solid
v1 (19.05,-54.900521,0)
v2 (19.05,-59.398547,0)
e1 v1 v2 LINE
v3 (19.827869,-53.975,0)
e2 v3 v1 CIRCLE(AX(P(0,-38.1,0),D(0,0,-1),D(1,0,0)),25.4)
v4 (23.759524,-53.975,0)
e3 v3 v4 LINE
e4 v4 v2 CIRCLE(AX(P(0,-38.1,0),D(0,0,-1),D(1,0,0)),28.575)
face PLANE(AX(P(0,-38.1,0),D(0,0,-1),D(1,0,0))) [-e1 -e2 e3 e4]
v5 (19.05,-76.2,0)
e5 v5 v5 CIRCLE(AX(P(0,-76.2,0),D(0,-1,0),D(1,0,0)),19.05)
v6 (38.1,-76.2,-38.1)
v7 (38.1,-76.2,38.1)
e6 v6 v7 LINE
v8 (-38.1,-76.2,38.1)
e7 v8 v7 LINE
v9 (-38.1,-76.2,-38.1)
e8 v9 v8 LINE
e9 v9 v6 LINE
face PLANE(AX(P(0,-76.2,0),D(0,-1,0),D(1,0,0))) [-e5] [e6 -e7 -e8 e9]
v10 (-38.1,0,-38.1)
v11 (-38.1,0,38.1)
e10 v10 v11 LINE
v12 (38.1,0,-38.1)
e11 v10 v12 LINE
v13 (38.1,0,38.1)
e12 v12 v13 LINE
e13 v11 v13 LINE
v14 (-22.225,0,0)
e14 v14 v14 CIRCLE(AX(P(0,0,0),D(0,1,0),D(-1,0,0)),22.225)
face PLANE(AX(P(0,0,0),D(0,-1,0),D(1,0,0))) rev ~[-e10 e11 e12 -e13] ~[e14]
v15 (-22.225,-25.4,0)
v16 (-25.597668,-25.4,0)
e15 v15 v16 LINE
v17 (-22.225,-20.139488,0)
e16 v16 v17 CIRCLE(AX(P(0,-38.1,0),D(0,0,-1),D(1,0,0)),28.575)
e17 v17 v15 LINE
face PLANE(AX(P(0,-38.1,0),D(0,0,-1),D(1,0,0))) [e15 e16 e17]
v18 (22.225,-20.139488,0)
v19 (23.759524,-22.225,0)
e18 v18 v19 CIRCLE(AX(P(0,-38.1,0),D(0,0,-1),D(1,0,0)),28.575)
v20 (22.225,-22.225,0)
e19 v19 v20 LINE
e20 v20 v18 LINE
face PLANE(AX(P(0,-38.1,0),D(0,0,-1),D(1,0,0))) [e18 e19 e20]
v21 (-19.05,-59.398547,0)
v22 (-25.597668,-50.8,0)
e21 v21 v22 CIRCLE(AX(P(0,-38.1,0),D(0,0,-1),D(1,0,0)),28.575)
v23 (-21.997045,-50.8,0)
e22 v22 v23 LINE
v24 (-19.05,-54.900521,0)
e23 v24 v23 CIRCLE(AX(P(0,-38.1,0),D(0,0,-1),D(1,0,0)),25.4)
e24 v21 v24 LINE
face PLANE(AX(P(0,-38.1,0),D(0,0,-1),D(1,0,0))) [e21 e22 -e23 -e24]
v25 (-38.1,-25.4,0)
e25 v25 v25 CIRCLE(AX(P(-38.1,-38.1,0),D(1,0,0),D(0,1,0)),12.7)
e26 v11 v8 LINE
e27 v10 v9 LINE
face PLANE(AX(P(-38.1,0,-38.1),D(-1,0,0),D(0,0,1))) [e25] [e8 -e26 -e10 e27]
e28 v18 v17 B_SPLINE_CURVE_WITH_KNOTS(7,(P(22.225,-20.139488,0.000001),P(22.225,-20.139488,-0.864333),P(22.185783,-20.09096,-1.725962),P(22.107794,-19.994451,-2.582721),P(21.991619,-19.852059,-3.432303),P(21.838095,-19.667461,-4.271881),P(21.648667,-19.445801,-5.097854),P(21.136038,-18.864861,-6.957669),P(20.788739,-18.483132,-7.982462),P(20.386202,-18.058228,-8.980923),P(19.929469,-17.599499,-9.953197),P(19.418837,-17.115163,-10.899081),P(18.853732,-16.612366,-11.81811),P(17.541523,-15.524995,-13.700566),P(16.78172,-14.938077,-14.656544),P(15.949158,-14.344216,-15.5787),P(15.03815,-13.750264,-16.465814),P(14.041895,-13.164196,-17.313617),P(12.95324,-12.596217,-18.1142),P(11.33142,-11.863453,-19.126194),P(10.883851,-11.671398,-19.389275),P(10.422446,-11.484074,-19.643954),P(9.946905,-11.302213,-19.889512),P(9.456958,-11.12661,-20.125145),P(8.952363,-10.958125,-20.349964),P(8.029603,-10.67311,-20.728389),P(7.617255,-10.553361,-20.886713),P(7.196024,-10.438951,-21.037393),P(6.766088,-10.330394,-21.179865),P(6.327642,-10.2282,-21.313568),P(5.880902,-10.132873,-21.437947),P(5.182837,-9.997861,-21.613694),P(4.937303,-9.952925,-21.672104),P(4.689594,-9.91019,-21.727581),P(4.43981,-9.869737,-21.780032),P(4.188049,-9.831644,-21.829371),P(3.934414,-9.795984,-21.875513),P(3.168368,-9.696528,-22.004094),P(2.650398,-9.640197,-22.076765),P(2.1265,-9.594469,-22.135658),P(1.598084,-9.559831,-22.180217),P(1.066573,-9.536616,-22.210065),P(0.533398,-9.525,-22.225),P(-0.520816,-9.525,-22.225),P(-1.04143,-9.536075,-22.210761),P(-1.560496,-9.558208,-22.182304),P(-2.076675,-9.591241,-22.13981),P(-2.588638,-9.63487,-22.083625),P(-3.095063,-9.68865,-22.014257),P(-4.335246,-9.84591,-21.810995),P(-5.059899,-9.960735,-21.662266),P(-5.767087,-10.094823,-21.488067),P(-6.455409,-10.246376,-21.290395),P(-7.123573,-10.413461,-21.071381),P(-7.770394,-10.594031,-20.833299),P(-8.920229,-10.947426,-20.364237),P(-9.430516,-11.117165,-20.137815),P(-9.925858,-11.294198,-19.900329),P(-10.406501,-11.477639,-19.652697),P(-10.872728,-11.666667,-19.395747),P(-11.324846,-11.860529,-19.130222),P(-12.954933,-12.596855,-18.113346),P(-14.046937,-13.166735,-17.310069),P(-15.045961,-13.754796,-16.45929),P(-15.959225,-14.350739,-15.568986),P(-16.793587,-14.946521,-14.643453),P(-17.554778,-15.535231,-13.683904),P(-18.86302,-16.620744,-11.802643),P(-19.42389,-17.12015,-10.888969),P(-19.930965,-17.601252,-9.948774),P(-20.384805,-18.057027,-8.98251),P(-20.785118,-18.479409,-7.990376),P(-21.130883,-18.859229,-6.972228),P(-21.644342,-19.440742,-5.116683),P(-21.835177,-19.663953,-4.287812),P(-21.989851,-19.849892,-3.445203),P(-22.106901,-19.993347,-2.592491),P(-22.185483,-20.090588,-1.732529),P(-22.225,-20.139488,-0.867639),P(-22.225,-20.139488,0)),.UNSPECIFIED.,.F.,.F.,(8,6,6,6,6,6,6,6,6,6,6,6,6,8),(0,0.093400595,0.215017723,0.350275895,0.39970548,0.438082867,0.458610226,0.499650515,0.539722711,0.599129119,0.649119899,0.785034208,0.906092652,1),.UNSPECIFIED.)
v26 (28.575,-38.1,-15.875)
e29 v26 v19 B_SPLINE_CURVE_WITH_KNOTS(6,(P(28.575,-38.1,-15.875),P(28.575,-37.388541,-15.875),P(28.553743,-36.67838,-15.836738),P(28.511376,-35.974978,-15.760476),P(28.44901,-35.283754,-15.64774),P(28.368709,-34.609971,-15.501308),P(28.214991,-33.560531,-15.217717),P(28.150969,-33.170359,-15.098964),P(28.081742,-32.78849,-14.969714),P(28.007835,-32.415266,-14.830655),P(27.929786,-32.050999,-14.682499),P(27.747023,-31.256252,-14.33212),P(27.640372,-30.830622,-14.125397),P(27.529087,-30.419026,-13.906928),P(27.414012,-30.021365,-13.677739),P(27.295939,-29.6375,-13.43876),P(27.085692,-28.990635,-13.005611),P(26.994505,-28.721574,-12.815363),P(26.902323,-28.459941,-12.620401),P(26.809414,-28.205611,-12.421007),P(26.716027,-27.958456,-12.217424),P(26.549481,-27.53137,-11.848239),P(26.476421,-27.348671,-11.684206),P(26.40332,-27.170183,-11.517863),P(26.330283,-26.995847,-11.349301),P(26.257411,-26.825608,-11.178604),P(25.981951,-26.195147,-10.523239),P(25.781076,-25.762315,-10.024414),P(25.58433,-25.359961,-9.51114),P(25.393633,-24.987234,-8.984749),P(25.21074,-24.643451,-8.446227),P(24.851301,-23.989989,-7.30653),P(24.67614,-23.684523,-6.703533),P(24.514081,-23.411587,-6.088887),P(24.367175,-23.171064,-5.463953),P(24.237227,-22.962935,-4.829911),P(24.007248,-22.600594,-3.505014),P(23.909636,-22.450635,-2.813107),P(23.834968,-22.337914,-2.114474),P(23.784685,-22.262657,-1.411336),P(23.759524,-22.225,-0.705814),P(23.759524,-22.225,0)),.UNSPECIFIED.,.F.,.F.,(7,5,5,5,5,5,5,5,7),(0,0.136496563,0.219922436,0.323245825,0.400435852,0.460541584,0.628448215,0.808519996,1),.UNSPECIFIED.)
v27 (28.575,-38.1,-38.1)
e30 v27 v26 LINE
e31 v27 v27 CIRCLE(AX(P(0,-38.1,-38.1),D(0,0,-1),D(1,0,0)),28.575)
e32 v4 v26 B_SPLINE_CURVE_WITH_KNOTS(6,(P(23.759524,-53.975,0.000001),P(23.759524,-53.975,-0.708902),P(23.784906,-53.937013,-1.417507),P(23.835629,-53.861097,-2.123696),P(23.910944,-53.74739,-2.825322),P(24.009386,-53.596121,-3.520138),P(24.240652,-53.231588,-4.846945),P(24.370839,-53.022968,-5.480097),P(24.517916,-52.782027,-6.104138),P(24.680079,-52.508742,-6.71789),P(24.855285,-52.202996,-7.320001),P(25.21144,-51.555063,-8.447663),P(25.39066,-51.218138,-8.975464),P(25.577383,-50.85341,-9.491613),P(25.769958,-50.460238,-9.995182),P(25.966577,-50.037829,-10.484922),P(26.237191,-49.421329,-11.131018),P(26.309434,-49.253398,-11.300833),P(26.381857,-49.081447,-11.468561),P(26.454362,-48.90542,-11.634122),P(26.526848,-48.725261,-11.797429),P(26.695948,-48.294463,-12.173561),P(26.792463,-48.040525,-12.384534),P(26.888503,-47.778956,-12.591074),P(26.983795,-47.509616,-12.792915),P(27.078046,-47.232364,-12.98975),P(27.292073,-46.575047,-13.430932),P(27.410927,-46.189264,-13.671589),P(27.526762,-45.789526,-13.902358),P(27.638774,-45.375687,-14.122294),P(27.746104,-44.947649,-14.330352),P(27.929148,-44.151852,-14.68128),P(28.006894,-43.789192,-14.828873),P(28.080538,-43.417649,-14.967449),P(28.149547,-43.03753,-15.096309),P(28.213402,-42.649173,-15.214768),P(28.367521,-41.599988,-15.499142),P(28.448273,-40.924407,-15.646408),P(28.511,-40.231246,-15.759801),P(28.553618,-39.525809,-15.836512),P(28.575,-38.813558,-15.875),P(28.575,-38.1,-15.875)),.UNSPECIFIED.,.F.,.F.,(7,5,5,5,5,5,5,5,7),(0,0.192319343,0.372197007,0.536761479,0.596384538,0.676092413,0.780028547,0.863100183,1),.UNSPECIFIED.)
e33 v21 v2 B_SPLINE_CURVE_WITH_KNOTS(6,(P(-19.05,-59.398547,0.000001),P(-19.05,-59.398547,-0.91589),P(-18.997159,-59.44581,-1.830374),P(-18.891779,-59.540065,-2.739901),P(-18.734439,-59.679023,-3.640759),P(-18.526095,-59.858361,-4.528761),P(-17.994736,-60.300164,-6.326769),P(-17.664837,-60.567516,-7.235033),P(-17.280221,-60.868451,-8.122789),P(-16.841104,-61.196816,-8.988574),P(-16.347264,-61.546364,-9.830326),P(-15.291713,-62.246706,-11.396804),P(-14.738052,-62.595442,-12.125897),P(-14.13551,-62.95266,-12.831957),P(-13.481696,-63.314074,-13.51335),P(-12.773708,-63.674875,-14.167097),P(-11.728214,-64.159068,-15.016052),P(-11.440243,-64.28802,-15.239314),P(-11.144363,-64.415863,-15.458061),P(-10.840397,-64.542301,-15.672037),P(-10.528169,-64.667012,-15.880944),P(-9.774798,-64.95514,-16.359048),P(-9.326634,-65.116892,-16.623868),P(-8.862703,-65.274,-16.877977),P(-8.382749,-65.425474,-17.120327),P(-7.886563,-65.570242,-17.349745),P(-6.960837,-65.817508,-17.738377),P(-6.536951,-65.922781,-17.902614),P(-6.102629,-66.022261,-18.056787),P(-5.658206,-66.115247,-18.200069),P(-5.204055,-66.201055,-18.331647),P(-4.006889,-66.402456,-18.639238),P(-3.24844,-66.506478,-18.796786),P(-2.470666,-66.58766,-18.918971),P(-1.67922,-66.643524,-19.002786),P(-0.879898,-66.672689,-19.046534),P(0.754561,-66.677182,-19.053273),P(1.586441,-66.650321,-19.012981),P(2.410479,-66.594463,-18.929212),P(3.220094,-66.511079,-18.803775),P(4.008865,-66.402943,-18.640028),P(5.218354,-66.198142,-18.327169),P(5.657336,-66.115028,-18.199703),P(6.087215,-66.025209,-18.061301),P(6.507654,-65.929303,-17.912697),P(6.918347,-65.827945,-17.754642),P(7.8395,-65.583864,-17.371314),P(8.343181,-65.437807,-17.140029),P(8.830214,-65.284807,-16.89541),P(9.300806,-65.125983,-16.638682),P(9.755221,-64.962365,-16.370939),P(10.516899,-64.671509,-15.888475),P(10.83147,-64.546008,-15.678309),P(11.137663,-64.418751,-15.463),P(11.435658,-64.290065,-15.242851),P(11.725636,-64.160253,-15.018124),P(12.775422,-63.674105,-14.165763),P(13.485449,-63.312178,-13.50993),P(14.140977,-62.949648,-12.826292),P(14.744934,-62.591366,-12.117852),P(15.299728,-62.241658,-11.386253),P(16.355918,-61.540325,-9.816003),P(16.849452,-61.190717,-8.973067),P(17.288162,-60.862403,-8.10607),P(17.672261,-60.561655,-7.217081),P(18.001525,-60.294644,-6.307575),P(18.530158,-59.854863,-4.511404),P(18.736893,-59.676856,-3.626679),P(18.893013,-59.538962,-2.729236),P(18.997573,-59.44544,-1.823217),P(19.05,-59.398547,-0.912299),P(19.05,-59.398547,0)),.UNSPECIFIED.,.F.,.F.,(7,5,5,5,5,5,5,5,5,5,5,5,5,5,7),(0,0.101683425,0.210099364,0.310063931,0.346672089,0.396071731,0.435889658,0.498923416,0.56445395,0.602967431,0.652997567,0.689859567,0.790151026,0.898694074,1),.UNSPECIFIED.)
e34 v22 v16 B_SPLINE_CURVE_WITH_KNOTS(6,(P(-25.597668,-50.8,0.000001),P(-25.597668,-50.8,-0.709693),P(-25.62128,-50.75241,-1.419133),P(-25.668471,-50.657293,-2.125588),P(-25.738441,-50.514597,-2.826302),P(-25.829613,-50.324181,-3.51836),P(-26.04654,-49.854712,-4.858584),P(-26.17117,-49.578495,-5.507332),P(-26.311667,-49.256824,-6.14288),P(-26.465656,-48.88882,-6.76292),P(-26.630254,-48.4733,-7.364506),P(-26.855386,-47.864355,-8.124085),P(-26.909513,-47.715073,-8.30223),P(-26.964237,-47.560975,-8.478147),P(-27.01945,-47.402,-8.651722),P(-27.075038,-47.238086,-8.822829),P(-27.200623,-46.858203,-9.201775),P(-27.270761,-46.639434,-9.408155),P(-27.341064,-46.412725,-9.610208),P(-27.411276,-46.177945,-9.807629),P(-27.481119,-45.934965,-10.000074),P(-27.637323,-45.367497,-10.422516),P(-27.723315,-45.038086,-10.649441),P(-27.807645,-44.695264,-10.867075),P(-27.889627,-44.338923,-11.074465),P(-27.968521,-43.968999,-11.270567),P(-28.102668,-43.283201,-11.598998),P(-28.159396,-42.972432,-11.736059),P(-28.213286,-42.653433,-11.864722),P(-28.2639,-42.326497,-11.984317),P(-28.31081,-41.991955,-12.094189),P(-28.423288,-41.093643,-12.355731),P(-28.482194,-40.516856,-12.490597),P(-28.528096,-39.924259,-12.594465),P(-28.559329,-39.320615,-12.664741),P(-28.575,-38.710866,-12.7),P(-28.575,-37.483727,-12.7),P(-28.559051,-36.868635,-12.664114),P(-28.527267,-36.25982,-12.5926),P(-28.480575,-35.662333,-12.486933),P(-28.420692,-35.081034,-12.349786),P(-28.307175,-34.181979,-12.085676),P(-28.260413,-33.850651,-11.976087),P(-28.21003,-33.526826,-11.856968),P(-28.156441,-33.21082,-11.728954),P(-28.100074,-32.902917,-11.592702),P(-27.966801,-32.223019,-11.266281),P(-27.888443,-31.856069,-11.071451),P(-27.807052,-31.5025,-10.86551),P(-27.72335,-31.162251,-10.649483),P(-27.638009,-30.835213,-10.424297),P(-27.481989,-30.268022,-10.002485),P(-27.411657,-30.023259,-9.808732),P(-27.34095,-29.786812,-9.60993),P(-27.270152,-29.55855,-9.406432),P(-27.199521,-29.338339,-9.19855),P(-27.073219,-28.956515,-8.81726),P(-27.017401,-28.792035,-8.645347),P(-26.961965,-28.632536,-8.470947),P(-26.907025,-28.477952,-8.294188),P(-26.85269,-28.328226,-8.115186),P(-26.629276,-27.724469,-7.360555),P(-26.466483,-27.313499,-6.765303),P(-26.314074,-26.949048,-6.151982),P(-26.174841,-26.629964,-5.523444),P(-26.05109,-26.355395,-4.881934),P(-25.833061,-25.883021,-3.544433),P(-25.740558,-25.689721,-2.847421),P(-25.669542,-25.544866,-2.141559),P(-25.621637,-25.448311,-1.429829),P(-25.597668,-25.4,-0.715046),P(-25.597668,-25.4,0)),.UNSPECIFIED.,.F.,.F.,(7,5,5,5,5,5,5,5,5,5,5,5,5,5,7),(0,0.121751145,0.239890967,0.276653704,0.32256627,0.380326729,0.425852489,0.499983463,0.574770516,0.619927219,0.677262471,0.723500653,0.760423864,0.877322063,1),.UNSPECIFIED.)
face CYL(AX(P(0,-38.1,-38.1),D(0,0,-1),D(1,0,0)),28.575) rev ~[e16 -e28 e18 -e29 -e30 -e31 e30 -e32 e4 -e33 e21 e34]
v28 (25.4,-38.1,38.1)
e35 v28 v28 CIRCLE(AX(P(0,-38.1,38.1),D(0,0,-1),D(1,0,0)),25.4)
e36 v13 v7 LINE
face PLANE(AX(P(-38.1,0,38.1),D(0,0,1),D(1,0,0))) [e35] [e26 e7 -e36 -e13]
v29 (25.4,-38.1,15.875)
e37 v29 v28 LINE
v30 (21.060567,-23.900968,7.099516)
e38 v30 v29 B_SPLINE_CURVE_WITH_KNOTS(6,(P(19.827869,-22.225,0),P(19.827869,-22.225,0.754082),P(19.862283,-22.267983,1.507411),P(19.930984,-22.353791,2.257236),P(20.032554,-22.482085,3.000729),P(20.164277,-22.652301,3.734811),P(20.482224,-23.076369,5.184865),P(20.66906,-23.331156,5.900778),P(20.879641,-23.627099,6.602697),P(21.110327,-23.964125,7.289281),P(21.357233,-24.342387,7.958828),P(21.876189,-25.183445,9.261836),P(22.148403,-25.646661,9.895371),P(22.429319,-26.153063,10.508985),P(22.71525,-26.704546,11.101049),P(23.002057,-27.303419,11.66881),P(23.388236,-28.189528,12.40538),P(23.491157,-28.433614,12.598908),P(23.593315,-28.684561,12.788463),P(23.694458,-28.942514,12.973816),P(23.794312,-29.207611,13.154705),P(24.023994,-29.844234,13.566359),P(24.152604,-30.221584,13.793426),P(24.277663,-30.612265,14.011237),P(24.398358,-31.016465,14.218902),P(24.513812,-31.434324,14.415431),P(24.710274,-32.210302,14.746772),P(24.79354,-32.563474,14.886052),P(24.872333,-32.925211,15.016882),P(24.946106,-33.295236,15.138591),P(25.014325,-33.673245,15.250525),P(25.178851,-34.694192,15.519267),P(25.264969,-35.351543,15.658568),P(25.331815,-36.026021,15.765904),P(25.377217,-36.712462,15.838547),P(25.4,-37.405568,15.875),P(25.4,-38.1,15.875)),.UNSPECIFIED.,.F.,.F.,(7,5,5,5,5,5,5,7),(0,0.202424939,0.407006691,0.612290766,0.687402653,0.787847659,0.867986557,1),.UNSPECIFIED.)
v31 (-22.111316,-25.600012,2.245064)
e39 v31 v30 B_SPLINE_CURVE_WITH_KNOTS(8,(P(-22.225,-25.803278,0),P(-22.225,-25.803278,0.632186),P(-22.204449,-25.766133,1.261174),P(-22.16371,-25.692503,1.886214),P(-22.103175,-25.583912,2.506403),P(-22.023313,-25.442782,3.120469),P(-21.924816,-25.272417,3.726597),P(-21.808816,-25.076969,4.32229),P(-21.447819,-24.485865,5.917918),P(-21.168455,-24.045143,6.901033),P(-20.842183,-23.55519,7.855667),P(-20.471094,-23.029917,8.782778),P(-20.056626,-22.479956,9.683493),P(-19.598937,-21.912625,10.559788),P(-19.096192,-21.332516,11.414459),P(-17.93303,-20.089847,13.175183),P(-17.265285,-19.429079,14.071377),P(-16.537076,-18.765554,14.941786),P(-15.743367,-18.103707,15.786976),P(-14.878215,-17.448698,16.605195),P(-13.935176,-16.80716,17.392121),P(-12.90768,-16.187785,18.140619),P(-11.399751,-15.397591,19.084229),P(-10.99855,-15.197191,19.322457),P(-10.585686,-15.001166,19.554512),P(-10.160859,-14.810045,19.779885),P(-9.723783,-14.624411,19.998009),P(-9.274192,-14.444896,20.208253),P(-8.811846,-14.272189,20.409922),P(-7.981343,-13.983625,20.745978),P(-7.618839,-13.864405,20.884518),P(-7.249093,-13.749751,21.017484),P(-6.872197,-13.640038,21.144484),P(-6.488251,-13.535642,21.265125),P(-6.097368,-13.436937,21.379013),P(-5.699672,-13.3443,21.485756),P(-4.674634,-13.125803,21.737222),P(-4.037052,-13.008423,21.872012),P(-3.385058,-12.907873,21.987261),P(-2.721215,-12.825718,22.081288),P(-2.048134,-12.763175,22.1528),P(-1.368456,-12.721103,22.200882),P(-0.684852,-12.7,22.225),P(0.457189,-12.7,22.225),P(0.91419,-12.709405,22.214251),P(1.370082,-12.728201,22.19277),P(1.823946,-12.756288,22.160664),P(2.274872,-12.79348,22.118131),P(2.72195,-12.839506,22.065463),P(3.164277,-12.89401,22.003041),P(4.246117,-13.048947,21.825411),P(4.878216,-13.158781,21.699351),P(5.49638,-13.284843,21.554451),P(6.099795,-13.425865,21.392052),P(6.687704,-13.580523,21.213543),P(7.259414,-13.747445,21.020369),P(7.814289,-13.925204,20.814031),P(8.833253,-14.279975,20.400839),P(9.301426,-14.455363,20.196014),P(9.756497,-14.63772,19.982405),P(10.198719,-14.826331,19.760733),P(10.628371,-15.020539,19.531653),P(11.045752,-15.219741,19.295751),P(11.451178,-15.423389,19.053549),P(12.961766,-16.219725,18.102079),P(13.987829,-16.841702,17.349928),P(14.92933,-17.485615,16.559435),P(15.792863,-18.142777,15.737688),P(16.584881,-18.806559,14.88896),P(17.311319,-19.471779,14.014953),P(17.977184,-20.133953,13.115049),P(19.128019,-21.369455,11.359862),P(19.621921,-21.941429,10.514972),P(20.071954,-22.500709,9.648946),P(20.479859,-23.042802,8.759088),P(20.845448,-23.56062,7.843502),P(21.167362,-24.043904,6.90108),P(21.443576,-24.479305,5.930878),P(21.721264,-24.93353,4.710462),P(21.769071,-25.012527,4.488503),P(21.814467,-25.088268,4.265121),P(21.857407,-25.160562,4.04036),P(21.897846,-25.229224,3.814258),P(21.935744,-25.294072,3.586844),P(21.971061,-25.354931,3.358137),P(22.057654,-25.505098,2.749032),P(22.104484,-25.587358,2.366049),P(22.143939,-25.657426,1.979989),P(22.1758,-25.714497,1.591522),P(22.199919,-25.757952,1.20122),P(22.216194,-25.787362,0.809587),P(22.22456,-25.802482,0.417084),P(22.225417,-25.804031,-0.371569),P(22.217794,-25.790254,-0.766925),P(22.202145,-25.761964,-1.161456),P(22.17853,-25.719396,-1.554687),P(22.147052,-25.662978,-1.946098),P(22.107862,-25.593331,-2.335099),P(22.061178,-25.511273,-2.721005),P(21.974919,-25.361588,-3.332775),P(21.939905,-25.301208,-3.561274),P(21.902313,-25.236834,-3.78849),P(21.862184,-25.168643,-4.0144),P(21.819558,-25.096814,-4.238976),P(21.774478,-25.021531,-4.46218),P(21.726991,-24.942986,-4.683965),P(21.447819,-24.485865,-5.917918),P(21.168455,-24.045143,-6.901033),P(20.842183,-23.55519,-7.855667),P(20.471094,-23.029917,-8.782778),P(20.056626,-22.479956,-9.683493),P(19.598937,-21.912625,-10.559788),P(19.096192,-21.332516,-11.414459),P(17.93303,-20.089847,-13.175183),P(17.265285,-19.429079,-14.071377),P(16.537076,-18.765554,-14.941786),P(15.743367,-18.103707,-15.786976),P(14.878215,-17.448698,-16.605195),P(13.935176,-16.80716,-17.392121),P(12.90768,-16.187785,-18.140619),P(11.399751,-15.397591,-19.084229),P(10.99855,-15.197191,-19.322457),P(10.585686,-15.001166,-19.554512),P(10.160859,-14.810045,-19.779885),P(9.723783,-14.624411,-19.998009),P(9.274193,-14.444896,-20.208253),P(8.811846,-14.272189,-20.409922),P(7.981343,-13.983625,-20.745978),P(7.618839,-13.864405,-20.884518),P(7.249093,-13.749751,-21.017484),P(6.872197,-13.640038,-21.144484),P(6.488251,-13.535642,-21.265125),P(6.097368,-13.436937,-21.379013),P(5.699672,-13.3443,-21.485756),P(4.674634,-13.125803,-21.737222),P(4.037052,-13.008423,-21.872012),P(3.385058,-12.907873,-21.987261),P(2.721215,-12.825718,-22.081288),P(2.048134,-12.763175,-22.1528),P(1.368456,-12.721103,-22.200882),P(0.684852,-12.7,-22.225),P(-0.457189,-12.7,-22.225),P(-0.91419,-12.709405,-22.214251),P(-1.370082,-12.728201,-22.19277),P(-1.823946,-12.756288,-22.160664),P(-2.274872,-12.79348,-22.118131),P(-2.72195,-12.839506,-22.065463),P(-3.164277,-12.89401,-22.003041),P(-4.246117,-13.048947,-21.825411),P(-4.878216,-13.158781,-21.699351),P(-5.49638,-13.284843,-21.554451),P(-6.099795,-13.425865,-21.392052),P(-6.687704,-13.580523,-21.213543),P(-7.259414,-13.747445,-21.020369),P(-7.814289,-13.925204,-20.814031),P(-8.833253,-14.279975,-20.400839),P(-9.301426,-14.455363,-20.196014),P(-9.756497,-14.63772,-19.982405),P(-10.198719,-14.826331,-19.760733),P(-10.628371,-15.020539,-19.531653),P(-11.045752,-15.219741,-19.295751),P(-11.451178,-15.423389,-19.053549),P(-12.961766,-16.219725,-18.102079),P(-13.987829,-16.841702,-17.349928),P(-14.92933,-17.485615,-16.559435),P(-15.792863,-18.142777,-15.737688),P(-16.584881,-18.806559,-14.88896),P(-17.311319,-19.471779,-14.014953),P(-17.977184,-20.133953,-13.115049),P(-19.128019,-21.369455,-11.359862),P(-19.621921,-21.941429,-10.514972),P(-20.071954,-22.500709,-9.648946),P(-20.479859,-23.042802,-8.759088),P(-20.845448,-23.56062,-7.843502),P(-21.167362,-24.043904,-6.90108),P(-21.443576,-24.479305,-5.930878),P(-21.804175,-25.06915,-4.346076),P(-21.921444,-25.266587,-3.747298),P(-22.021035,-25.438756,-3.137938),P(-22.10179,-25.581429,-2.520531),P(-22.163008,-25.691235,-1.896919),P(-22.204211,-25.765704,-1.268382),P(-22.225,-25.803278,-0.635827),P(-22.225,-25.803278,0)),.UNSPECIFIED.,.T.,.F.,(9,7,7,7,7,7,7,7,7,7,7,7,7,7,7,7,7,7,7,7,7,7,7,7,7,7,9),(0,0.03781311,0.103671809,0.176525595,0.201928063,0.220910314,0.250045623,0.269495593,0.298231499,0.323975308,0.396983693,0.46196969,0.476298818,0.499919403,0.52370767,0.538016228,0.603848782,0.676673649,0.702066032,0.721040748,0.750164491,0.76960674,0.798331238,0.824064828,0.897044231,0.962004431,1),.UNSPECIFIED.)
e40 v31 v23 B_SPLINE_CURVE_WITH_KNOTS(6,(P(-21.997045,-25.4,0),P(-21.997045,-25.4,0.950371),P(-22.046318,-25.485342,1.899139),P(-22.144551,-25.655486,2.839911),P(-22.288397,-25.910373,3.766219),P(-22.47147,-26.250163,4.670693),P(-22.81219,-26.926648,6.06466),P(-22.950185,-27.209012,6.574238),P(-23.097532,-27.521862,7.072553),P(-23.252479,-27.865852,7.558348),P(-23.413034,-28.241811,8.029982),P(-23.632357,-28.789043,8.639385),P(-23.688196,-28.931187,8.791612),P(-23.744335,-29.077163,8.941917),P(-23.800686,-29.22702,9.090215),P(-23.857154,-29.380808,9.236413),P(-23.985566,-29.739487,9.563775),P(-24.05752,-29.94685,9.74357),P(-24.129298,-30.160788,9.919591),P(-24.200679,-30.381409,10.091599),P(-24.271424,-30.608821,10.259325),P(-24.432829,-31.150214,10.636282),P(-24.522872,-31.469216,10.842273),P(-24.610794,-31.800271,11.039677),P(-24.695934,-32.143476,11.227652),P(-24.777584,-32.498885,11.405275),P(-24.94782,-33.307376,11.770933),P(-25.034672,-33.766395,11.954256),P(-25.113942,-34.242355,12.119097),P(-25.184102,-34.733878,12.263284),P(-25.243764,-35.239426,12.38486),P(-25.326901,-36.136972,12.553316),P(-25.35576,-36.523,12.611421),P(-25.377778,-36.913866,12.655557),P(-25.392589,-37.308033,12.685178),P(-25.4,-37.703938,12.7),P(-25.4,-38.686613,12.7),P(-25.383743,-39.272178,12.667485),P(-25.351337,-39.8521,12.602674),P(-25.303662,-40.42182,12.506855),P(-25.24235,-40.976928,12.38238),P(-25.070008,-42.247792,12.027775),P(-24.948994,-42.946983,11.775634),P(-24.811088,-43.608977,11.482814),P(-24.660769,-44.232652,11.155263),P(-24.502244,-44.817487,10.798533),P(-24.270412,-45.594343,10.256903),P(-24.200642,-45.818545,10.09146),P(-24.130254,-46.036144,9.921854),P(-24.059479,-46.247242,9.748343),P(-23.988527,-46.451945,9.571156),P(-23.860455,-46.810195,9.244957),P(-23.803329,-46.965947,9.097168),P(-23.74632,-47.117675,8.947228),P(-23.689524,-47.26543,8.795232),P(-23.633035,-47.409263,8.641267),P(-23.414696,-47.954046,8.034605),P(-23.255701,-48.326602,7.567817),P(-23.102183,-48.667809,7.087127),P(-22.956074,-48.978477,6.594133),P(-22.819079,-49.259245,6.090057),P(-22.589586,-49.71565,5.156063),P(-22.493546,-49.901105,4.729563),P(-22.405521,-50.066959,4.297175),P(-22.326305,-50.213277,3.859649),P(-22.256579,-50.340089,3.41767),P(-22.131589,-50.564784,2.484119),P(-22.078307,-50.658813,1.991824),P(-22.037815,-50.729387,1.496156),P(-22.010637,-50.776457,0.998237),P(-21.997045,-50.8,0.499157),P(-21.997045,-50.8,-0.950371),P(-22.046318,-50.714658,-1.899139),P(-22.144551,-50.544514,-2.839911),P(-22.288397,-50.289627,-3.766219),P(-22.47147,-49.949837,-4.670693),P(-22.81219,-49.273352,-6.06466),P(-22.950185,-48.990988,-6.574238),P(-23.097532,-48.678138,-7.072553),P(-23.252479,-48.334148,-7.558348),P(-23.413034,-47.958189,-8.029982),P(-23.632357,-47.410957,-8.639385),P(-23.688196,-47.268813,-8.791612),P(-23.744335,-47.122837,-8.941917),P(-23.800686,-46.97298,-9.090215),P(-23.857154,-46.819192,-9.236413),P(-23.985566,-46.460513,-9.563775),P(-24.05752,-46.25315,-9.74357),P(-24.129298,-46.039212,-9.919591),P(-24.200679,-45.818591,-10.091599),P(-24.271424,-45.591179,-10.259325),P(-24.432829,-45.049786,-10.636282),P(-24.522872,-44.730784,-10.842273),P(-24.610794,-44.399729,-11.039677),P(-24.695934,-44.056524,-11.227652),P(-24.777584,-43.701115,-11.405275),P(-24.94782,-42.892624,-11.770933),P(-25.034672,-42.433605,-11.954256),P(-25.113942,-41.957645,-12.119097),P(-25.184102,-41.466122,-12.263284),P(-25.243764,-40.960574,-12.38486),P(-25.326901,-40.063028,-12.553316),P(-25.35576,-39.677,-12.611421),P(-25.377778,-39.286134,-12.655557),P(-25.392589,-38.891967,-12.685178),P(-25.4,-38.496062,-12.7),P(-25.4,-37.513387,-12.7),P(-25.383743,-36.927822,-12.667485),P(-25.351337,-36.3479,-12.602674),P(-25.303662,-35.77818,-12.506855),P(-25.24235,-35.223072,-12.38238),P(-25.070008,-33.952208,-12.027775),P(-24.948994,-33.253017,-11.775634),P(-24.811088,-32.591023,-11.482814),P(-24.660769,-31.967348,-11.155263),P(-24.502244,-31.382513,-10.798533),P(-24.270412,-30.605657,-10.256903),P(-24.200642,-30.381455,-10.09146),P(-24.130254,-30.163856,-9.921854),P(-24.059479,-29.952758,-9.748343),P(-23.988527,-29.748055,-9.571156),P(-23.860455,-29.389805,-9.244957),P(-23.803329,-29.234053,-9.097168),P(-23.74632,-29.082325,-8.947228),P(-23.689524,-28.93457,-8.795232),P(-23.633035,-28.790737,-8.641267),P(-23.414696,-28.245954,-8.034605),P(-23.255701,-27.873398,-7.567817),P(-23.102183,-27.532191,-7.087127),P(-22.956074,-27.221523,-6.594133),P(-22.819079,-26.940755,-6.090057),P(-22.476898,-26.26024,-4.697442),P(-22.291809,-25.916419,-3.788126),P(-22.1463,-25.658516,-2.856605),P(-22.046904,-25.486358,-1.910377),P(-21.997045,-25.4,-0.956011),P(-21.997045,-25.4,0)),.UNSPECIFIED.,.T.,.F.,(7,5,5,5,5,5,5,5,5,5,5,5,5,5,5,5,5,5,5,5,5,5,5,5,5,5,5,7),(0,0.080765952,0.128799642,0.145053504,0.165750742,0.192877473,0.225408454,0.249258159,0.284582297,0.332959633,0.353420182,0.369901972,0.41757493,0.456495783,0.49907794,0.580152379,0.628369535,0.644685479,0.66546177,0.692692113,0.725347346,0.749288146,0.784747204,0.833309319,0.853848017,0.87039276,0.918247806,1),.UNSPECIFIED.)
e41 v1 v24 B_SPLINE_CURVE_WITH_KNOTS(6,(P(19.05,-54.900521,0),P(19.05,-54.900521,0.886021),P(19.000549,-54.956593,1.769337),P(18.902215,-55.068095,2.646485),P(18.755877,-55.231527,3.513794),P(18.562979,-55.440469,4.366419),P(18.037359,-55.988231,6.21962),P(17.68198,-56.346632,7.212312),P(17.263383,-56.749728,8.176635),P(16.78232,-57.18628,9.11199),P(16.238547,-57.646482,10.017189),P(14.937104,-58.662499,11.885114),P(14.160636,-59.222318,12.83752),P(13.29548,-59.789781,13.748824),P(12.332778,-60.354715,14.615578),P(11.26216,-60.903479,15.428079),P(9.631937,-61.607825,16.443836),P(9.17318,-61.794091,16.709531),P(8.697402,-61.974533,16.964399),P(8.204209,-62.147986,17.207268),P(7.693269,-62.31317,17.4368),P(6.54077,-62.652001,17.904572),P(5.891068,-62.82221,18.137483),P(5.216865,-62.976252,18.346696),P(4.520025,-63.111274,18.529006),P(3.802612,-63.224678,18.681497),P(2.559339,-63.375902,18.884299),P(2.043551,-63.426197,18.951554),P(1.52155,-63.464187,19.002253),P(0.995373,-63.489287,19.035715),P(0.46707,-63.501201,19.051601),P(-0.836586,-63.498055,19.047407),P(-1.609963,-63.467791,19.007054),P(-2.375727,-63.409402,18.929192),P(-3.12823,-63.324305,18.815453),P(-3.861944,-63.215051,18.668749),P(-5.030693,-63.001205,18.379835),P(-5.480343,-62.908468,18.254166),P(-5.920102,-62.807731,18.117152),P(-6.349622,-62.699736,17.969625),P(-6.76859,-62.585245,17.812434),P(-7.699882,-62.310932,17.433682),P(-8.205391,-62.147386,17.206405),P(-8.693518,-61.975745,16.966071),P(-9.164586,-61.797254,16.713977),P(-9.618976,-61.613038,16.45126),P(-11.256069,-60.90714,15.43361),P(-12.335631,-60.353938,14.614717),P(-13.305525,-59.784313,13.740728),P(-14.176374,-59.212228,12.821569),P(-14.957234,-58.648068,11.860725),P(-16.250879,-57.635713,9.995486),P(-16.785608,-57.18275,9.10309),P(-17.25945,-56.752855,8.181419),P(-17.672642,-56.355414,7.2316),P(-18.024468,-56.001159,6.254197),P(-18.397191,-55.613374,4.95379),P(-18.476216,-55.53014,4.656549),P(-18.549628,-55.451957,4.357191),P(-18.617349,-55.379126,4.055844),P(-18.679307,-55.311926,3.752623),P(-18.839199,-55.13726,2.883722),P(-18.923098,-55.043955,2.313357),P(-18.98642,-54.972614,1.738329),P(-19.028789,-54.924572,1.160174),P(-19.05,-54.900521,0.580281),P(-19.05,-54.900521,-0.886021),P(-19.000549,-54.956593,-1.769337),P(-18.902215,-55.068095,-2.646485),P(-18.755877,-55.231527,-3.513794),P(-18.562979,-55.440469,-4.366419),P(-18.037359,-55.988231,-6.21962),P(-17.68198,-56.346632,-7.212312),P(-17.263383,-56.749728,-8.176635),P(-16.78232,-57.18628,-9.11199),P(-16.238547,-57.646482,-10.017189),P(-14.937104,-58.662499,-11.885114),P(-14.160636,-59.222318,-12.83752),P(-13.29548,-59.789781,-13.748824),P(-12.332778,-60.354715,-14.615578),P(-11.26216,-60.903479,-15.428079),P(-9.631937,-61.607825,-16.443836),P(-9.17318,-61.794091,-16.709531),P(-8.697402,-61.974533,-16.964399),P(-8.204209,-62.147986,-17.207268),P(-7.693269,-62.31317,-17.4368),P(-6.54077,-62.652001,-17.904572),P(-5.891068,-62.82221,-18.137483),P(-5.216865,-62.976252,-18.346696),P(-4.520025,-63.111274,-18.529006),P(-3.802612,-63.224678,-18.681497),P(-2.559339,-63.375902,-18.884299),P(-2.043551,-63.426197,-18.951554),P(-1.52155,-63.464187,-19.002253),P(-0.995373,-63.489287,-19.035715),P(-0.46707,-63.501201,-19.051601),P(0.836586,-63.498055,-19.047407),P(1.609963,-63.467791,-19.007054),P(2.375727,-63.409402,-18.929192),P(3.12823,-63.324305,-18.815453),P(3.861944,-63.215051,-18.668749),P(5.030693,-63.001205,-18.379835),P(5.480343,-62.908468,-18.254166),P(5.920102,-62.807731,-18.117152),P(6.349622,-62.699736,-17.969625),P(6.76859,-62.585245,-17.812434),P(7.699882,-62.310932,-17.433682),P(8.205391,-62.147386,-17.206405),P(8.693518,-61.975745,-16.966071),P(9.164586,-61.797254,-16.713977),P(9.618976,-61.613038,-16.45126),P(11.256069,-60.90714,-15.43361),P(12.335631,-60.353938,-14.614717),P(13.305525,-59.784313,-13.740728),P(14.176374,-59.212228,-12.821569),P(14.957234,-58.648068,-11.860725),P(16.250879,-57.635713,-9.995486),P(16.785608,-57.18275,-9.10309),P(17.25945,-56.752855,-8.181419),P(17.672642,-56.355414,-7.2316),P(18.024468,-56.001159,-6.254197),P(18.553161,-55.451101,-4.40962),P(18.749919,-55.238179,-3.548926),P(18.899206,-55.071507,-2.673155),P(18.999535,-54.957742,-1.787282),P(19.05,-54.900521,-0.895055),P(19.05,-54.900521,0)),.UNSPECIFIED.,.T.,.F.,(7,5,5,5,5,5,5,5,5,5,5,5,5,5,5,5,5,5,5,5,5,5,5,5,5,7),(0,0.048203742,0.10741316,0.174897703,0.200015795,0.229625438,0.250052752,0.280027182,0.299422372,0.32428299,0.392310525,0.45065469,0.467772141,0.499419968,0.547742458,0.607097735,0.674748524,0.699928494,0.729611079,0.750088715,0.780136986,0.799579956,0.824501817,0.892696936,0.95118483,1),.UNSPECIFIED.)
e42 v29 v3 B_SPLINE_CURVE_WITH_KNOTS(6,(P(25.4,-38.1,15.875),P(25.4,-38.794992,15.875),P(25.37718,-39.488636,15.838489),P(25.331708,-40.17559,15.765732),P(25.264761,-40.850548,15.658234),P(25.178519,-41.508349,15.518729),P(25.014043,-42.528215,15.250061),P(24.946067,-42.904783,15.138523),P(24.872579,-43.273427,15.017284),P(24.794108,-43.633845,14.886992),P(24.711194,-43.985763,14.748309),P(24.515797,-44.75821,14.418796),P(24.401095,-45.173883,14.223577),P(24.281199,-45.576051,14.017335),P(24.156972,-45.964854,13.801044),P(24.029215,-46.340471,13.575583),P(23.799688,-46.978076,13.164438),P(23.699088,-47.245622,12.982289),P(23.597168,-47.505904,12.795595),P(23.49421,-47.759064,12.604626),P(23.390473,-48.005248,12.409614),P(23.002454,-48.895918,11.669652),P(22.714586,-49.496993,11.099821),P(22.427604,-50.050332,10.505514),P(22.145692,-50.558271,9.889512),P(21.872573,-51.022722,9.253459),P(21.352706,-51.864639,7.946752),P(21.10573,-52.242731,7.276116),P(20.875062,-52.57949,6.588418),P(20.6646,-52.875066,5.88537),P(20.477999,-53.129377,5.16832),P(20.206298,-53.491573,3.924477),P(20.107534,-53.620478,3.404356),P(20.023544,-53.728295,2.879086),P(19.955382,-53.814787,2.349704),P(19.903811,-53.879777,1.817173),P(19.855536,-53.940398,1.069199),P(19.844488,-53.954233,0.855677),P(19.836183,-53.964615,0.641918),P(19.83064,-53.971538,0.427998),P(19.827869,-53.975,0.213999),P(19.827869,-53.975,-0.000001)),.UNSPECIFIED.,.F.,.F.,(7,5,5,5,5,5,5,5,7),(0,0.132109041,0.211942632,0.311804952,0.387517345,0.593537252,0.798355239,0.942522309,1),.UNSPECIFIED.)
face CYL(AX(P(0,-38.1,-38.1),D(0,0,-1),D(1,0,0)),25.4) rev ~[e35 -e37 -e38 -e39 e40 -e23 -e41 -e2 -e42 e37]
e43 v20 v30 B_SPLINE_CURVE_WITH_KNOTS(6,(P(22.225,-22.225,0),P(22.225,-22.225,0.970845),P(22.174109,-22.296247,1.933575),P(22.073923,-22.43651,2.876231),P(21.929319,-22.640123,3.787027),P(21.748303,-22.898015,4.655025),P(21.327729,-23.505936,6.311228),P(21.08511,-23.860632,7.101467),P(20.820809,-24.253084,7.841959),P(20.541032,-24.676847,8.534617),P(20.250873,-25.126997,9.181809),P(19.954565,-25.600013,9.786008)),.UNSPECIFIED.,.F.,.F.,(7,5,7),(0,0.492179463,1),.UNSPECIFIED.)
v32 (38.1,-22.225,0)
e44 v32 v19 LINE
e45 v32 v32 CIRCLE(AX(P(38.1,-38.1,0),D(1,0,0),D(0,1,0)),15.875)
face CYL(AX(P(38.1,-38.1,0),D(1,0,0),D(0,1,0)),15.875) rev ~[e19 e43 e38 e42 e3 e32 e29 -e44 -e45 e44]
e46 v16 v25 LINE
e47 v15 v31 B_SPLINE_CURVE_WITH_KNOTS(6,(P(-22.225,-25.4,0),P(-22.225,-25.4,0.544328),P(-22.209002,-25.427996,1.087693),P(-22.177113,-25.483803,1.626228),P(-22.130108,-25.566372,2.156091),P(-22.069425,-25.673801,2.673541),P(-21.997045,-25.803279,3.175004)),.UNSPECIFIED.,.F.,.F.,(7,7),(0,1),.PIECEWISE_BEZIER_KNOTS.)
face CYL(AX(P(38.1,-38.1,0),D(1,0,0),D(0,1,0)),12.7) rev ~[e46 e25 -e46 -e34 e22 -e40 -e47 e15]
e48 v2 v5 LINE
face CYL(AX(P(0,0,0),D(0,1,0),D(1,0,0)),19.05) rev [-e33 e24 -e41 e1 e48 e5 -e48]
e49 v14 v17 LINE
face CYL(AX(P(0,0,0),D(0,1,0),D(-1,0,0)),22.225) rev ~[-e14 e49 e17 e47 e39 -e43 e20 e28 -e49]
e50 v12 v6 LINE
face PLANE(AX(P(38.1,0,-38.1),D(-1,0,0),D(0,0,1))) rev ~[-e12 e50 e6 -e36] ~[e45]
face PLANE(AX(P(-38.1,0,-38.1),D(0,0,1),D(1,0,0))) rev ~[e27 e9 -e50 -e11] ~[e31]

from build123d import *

# Parameters (mm, degrees)
F0_W      = 76.2
F0_H      = 76.2
F0_R      = 19.05
F1_DEPTH  = 76.2
F2_R      = 12.7
F3_DEPTH  = 76.2
F4_R      = 25.4
F5_DEPTH  = 76.2
F6_R      = 22.225
F6_R_2    = 19.05
F7_DEPTH  = 38.1
F8_R      = 28.575
F9_DEPTH  = 38.1
F10_R     = 15.875
F11_DEPTH = 38.1


with BuildPart() as f1:
    # F0 (on Front) → F1 (new body)
    with BuildSketch(Plane.XZ):
        Rectangle(F0_W, F0_H)
        Circle(F0_R, mode=Mode.SUBTRACT)
    extrude(amount=F1_DEPTH)

    # F2 (on face) → F3 (cut)
    with BuildSketch(Plane.YZ.offset(38.1)):
        with Locations((-38.1, 0)):
            Circle(F2_R)
    extrude(amount=-F3_DEPTH, mode=Mode.SUBTRACT)

    # F4 (on face) → F5 (cut)
    with BuildSketch(Plane(origin=(0, 0, -38.1), x_dir=(1, 0, 0), z_dir=(0, 0, -1))):
        with Locations((0, 38.1)):
            Circle(F4_R)
    extrude(amount=-F5_DEPTH, mode=Mode.SUBTRACT)

    # F6 (on face) → F7 (cut)
    with BuildSketch(Plane(origin=(0, 0, 0), x_dir=(-1, 0, 0), z_dir=(0, 1, 0))):
        Circle(F6_R)
        Circle(F6_R_2, mode=Mode.SUBTRACT)
    extrude(amount=-F7_DEPTH, mode=Mode.SUBTRACT)

    # F8 (on face) → F9 (cut)
    with BuildSketch(Plane(origin=(0, 0, -38.1), x_dir=(1, 0, 0), z_dir=(0, 0, -1))):
        with Locations((0, 38.1)):
            Circle(F8_R)
    extrude(amount=-F9_DEPTH, mode=Mode.SUBTRACT)

    # F10 (on face) → F11 (cut)
    with BuildSketch(Plane.YZ.offset(38.1)):
        with Locations((-38.1, 0)):
            Circle(F10_R)
    extrude(amount=-F11_DEPTH, mode=Mode.SUBTRACT)


solid = f1.part
